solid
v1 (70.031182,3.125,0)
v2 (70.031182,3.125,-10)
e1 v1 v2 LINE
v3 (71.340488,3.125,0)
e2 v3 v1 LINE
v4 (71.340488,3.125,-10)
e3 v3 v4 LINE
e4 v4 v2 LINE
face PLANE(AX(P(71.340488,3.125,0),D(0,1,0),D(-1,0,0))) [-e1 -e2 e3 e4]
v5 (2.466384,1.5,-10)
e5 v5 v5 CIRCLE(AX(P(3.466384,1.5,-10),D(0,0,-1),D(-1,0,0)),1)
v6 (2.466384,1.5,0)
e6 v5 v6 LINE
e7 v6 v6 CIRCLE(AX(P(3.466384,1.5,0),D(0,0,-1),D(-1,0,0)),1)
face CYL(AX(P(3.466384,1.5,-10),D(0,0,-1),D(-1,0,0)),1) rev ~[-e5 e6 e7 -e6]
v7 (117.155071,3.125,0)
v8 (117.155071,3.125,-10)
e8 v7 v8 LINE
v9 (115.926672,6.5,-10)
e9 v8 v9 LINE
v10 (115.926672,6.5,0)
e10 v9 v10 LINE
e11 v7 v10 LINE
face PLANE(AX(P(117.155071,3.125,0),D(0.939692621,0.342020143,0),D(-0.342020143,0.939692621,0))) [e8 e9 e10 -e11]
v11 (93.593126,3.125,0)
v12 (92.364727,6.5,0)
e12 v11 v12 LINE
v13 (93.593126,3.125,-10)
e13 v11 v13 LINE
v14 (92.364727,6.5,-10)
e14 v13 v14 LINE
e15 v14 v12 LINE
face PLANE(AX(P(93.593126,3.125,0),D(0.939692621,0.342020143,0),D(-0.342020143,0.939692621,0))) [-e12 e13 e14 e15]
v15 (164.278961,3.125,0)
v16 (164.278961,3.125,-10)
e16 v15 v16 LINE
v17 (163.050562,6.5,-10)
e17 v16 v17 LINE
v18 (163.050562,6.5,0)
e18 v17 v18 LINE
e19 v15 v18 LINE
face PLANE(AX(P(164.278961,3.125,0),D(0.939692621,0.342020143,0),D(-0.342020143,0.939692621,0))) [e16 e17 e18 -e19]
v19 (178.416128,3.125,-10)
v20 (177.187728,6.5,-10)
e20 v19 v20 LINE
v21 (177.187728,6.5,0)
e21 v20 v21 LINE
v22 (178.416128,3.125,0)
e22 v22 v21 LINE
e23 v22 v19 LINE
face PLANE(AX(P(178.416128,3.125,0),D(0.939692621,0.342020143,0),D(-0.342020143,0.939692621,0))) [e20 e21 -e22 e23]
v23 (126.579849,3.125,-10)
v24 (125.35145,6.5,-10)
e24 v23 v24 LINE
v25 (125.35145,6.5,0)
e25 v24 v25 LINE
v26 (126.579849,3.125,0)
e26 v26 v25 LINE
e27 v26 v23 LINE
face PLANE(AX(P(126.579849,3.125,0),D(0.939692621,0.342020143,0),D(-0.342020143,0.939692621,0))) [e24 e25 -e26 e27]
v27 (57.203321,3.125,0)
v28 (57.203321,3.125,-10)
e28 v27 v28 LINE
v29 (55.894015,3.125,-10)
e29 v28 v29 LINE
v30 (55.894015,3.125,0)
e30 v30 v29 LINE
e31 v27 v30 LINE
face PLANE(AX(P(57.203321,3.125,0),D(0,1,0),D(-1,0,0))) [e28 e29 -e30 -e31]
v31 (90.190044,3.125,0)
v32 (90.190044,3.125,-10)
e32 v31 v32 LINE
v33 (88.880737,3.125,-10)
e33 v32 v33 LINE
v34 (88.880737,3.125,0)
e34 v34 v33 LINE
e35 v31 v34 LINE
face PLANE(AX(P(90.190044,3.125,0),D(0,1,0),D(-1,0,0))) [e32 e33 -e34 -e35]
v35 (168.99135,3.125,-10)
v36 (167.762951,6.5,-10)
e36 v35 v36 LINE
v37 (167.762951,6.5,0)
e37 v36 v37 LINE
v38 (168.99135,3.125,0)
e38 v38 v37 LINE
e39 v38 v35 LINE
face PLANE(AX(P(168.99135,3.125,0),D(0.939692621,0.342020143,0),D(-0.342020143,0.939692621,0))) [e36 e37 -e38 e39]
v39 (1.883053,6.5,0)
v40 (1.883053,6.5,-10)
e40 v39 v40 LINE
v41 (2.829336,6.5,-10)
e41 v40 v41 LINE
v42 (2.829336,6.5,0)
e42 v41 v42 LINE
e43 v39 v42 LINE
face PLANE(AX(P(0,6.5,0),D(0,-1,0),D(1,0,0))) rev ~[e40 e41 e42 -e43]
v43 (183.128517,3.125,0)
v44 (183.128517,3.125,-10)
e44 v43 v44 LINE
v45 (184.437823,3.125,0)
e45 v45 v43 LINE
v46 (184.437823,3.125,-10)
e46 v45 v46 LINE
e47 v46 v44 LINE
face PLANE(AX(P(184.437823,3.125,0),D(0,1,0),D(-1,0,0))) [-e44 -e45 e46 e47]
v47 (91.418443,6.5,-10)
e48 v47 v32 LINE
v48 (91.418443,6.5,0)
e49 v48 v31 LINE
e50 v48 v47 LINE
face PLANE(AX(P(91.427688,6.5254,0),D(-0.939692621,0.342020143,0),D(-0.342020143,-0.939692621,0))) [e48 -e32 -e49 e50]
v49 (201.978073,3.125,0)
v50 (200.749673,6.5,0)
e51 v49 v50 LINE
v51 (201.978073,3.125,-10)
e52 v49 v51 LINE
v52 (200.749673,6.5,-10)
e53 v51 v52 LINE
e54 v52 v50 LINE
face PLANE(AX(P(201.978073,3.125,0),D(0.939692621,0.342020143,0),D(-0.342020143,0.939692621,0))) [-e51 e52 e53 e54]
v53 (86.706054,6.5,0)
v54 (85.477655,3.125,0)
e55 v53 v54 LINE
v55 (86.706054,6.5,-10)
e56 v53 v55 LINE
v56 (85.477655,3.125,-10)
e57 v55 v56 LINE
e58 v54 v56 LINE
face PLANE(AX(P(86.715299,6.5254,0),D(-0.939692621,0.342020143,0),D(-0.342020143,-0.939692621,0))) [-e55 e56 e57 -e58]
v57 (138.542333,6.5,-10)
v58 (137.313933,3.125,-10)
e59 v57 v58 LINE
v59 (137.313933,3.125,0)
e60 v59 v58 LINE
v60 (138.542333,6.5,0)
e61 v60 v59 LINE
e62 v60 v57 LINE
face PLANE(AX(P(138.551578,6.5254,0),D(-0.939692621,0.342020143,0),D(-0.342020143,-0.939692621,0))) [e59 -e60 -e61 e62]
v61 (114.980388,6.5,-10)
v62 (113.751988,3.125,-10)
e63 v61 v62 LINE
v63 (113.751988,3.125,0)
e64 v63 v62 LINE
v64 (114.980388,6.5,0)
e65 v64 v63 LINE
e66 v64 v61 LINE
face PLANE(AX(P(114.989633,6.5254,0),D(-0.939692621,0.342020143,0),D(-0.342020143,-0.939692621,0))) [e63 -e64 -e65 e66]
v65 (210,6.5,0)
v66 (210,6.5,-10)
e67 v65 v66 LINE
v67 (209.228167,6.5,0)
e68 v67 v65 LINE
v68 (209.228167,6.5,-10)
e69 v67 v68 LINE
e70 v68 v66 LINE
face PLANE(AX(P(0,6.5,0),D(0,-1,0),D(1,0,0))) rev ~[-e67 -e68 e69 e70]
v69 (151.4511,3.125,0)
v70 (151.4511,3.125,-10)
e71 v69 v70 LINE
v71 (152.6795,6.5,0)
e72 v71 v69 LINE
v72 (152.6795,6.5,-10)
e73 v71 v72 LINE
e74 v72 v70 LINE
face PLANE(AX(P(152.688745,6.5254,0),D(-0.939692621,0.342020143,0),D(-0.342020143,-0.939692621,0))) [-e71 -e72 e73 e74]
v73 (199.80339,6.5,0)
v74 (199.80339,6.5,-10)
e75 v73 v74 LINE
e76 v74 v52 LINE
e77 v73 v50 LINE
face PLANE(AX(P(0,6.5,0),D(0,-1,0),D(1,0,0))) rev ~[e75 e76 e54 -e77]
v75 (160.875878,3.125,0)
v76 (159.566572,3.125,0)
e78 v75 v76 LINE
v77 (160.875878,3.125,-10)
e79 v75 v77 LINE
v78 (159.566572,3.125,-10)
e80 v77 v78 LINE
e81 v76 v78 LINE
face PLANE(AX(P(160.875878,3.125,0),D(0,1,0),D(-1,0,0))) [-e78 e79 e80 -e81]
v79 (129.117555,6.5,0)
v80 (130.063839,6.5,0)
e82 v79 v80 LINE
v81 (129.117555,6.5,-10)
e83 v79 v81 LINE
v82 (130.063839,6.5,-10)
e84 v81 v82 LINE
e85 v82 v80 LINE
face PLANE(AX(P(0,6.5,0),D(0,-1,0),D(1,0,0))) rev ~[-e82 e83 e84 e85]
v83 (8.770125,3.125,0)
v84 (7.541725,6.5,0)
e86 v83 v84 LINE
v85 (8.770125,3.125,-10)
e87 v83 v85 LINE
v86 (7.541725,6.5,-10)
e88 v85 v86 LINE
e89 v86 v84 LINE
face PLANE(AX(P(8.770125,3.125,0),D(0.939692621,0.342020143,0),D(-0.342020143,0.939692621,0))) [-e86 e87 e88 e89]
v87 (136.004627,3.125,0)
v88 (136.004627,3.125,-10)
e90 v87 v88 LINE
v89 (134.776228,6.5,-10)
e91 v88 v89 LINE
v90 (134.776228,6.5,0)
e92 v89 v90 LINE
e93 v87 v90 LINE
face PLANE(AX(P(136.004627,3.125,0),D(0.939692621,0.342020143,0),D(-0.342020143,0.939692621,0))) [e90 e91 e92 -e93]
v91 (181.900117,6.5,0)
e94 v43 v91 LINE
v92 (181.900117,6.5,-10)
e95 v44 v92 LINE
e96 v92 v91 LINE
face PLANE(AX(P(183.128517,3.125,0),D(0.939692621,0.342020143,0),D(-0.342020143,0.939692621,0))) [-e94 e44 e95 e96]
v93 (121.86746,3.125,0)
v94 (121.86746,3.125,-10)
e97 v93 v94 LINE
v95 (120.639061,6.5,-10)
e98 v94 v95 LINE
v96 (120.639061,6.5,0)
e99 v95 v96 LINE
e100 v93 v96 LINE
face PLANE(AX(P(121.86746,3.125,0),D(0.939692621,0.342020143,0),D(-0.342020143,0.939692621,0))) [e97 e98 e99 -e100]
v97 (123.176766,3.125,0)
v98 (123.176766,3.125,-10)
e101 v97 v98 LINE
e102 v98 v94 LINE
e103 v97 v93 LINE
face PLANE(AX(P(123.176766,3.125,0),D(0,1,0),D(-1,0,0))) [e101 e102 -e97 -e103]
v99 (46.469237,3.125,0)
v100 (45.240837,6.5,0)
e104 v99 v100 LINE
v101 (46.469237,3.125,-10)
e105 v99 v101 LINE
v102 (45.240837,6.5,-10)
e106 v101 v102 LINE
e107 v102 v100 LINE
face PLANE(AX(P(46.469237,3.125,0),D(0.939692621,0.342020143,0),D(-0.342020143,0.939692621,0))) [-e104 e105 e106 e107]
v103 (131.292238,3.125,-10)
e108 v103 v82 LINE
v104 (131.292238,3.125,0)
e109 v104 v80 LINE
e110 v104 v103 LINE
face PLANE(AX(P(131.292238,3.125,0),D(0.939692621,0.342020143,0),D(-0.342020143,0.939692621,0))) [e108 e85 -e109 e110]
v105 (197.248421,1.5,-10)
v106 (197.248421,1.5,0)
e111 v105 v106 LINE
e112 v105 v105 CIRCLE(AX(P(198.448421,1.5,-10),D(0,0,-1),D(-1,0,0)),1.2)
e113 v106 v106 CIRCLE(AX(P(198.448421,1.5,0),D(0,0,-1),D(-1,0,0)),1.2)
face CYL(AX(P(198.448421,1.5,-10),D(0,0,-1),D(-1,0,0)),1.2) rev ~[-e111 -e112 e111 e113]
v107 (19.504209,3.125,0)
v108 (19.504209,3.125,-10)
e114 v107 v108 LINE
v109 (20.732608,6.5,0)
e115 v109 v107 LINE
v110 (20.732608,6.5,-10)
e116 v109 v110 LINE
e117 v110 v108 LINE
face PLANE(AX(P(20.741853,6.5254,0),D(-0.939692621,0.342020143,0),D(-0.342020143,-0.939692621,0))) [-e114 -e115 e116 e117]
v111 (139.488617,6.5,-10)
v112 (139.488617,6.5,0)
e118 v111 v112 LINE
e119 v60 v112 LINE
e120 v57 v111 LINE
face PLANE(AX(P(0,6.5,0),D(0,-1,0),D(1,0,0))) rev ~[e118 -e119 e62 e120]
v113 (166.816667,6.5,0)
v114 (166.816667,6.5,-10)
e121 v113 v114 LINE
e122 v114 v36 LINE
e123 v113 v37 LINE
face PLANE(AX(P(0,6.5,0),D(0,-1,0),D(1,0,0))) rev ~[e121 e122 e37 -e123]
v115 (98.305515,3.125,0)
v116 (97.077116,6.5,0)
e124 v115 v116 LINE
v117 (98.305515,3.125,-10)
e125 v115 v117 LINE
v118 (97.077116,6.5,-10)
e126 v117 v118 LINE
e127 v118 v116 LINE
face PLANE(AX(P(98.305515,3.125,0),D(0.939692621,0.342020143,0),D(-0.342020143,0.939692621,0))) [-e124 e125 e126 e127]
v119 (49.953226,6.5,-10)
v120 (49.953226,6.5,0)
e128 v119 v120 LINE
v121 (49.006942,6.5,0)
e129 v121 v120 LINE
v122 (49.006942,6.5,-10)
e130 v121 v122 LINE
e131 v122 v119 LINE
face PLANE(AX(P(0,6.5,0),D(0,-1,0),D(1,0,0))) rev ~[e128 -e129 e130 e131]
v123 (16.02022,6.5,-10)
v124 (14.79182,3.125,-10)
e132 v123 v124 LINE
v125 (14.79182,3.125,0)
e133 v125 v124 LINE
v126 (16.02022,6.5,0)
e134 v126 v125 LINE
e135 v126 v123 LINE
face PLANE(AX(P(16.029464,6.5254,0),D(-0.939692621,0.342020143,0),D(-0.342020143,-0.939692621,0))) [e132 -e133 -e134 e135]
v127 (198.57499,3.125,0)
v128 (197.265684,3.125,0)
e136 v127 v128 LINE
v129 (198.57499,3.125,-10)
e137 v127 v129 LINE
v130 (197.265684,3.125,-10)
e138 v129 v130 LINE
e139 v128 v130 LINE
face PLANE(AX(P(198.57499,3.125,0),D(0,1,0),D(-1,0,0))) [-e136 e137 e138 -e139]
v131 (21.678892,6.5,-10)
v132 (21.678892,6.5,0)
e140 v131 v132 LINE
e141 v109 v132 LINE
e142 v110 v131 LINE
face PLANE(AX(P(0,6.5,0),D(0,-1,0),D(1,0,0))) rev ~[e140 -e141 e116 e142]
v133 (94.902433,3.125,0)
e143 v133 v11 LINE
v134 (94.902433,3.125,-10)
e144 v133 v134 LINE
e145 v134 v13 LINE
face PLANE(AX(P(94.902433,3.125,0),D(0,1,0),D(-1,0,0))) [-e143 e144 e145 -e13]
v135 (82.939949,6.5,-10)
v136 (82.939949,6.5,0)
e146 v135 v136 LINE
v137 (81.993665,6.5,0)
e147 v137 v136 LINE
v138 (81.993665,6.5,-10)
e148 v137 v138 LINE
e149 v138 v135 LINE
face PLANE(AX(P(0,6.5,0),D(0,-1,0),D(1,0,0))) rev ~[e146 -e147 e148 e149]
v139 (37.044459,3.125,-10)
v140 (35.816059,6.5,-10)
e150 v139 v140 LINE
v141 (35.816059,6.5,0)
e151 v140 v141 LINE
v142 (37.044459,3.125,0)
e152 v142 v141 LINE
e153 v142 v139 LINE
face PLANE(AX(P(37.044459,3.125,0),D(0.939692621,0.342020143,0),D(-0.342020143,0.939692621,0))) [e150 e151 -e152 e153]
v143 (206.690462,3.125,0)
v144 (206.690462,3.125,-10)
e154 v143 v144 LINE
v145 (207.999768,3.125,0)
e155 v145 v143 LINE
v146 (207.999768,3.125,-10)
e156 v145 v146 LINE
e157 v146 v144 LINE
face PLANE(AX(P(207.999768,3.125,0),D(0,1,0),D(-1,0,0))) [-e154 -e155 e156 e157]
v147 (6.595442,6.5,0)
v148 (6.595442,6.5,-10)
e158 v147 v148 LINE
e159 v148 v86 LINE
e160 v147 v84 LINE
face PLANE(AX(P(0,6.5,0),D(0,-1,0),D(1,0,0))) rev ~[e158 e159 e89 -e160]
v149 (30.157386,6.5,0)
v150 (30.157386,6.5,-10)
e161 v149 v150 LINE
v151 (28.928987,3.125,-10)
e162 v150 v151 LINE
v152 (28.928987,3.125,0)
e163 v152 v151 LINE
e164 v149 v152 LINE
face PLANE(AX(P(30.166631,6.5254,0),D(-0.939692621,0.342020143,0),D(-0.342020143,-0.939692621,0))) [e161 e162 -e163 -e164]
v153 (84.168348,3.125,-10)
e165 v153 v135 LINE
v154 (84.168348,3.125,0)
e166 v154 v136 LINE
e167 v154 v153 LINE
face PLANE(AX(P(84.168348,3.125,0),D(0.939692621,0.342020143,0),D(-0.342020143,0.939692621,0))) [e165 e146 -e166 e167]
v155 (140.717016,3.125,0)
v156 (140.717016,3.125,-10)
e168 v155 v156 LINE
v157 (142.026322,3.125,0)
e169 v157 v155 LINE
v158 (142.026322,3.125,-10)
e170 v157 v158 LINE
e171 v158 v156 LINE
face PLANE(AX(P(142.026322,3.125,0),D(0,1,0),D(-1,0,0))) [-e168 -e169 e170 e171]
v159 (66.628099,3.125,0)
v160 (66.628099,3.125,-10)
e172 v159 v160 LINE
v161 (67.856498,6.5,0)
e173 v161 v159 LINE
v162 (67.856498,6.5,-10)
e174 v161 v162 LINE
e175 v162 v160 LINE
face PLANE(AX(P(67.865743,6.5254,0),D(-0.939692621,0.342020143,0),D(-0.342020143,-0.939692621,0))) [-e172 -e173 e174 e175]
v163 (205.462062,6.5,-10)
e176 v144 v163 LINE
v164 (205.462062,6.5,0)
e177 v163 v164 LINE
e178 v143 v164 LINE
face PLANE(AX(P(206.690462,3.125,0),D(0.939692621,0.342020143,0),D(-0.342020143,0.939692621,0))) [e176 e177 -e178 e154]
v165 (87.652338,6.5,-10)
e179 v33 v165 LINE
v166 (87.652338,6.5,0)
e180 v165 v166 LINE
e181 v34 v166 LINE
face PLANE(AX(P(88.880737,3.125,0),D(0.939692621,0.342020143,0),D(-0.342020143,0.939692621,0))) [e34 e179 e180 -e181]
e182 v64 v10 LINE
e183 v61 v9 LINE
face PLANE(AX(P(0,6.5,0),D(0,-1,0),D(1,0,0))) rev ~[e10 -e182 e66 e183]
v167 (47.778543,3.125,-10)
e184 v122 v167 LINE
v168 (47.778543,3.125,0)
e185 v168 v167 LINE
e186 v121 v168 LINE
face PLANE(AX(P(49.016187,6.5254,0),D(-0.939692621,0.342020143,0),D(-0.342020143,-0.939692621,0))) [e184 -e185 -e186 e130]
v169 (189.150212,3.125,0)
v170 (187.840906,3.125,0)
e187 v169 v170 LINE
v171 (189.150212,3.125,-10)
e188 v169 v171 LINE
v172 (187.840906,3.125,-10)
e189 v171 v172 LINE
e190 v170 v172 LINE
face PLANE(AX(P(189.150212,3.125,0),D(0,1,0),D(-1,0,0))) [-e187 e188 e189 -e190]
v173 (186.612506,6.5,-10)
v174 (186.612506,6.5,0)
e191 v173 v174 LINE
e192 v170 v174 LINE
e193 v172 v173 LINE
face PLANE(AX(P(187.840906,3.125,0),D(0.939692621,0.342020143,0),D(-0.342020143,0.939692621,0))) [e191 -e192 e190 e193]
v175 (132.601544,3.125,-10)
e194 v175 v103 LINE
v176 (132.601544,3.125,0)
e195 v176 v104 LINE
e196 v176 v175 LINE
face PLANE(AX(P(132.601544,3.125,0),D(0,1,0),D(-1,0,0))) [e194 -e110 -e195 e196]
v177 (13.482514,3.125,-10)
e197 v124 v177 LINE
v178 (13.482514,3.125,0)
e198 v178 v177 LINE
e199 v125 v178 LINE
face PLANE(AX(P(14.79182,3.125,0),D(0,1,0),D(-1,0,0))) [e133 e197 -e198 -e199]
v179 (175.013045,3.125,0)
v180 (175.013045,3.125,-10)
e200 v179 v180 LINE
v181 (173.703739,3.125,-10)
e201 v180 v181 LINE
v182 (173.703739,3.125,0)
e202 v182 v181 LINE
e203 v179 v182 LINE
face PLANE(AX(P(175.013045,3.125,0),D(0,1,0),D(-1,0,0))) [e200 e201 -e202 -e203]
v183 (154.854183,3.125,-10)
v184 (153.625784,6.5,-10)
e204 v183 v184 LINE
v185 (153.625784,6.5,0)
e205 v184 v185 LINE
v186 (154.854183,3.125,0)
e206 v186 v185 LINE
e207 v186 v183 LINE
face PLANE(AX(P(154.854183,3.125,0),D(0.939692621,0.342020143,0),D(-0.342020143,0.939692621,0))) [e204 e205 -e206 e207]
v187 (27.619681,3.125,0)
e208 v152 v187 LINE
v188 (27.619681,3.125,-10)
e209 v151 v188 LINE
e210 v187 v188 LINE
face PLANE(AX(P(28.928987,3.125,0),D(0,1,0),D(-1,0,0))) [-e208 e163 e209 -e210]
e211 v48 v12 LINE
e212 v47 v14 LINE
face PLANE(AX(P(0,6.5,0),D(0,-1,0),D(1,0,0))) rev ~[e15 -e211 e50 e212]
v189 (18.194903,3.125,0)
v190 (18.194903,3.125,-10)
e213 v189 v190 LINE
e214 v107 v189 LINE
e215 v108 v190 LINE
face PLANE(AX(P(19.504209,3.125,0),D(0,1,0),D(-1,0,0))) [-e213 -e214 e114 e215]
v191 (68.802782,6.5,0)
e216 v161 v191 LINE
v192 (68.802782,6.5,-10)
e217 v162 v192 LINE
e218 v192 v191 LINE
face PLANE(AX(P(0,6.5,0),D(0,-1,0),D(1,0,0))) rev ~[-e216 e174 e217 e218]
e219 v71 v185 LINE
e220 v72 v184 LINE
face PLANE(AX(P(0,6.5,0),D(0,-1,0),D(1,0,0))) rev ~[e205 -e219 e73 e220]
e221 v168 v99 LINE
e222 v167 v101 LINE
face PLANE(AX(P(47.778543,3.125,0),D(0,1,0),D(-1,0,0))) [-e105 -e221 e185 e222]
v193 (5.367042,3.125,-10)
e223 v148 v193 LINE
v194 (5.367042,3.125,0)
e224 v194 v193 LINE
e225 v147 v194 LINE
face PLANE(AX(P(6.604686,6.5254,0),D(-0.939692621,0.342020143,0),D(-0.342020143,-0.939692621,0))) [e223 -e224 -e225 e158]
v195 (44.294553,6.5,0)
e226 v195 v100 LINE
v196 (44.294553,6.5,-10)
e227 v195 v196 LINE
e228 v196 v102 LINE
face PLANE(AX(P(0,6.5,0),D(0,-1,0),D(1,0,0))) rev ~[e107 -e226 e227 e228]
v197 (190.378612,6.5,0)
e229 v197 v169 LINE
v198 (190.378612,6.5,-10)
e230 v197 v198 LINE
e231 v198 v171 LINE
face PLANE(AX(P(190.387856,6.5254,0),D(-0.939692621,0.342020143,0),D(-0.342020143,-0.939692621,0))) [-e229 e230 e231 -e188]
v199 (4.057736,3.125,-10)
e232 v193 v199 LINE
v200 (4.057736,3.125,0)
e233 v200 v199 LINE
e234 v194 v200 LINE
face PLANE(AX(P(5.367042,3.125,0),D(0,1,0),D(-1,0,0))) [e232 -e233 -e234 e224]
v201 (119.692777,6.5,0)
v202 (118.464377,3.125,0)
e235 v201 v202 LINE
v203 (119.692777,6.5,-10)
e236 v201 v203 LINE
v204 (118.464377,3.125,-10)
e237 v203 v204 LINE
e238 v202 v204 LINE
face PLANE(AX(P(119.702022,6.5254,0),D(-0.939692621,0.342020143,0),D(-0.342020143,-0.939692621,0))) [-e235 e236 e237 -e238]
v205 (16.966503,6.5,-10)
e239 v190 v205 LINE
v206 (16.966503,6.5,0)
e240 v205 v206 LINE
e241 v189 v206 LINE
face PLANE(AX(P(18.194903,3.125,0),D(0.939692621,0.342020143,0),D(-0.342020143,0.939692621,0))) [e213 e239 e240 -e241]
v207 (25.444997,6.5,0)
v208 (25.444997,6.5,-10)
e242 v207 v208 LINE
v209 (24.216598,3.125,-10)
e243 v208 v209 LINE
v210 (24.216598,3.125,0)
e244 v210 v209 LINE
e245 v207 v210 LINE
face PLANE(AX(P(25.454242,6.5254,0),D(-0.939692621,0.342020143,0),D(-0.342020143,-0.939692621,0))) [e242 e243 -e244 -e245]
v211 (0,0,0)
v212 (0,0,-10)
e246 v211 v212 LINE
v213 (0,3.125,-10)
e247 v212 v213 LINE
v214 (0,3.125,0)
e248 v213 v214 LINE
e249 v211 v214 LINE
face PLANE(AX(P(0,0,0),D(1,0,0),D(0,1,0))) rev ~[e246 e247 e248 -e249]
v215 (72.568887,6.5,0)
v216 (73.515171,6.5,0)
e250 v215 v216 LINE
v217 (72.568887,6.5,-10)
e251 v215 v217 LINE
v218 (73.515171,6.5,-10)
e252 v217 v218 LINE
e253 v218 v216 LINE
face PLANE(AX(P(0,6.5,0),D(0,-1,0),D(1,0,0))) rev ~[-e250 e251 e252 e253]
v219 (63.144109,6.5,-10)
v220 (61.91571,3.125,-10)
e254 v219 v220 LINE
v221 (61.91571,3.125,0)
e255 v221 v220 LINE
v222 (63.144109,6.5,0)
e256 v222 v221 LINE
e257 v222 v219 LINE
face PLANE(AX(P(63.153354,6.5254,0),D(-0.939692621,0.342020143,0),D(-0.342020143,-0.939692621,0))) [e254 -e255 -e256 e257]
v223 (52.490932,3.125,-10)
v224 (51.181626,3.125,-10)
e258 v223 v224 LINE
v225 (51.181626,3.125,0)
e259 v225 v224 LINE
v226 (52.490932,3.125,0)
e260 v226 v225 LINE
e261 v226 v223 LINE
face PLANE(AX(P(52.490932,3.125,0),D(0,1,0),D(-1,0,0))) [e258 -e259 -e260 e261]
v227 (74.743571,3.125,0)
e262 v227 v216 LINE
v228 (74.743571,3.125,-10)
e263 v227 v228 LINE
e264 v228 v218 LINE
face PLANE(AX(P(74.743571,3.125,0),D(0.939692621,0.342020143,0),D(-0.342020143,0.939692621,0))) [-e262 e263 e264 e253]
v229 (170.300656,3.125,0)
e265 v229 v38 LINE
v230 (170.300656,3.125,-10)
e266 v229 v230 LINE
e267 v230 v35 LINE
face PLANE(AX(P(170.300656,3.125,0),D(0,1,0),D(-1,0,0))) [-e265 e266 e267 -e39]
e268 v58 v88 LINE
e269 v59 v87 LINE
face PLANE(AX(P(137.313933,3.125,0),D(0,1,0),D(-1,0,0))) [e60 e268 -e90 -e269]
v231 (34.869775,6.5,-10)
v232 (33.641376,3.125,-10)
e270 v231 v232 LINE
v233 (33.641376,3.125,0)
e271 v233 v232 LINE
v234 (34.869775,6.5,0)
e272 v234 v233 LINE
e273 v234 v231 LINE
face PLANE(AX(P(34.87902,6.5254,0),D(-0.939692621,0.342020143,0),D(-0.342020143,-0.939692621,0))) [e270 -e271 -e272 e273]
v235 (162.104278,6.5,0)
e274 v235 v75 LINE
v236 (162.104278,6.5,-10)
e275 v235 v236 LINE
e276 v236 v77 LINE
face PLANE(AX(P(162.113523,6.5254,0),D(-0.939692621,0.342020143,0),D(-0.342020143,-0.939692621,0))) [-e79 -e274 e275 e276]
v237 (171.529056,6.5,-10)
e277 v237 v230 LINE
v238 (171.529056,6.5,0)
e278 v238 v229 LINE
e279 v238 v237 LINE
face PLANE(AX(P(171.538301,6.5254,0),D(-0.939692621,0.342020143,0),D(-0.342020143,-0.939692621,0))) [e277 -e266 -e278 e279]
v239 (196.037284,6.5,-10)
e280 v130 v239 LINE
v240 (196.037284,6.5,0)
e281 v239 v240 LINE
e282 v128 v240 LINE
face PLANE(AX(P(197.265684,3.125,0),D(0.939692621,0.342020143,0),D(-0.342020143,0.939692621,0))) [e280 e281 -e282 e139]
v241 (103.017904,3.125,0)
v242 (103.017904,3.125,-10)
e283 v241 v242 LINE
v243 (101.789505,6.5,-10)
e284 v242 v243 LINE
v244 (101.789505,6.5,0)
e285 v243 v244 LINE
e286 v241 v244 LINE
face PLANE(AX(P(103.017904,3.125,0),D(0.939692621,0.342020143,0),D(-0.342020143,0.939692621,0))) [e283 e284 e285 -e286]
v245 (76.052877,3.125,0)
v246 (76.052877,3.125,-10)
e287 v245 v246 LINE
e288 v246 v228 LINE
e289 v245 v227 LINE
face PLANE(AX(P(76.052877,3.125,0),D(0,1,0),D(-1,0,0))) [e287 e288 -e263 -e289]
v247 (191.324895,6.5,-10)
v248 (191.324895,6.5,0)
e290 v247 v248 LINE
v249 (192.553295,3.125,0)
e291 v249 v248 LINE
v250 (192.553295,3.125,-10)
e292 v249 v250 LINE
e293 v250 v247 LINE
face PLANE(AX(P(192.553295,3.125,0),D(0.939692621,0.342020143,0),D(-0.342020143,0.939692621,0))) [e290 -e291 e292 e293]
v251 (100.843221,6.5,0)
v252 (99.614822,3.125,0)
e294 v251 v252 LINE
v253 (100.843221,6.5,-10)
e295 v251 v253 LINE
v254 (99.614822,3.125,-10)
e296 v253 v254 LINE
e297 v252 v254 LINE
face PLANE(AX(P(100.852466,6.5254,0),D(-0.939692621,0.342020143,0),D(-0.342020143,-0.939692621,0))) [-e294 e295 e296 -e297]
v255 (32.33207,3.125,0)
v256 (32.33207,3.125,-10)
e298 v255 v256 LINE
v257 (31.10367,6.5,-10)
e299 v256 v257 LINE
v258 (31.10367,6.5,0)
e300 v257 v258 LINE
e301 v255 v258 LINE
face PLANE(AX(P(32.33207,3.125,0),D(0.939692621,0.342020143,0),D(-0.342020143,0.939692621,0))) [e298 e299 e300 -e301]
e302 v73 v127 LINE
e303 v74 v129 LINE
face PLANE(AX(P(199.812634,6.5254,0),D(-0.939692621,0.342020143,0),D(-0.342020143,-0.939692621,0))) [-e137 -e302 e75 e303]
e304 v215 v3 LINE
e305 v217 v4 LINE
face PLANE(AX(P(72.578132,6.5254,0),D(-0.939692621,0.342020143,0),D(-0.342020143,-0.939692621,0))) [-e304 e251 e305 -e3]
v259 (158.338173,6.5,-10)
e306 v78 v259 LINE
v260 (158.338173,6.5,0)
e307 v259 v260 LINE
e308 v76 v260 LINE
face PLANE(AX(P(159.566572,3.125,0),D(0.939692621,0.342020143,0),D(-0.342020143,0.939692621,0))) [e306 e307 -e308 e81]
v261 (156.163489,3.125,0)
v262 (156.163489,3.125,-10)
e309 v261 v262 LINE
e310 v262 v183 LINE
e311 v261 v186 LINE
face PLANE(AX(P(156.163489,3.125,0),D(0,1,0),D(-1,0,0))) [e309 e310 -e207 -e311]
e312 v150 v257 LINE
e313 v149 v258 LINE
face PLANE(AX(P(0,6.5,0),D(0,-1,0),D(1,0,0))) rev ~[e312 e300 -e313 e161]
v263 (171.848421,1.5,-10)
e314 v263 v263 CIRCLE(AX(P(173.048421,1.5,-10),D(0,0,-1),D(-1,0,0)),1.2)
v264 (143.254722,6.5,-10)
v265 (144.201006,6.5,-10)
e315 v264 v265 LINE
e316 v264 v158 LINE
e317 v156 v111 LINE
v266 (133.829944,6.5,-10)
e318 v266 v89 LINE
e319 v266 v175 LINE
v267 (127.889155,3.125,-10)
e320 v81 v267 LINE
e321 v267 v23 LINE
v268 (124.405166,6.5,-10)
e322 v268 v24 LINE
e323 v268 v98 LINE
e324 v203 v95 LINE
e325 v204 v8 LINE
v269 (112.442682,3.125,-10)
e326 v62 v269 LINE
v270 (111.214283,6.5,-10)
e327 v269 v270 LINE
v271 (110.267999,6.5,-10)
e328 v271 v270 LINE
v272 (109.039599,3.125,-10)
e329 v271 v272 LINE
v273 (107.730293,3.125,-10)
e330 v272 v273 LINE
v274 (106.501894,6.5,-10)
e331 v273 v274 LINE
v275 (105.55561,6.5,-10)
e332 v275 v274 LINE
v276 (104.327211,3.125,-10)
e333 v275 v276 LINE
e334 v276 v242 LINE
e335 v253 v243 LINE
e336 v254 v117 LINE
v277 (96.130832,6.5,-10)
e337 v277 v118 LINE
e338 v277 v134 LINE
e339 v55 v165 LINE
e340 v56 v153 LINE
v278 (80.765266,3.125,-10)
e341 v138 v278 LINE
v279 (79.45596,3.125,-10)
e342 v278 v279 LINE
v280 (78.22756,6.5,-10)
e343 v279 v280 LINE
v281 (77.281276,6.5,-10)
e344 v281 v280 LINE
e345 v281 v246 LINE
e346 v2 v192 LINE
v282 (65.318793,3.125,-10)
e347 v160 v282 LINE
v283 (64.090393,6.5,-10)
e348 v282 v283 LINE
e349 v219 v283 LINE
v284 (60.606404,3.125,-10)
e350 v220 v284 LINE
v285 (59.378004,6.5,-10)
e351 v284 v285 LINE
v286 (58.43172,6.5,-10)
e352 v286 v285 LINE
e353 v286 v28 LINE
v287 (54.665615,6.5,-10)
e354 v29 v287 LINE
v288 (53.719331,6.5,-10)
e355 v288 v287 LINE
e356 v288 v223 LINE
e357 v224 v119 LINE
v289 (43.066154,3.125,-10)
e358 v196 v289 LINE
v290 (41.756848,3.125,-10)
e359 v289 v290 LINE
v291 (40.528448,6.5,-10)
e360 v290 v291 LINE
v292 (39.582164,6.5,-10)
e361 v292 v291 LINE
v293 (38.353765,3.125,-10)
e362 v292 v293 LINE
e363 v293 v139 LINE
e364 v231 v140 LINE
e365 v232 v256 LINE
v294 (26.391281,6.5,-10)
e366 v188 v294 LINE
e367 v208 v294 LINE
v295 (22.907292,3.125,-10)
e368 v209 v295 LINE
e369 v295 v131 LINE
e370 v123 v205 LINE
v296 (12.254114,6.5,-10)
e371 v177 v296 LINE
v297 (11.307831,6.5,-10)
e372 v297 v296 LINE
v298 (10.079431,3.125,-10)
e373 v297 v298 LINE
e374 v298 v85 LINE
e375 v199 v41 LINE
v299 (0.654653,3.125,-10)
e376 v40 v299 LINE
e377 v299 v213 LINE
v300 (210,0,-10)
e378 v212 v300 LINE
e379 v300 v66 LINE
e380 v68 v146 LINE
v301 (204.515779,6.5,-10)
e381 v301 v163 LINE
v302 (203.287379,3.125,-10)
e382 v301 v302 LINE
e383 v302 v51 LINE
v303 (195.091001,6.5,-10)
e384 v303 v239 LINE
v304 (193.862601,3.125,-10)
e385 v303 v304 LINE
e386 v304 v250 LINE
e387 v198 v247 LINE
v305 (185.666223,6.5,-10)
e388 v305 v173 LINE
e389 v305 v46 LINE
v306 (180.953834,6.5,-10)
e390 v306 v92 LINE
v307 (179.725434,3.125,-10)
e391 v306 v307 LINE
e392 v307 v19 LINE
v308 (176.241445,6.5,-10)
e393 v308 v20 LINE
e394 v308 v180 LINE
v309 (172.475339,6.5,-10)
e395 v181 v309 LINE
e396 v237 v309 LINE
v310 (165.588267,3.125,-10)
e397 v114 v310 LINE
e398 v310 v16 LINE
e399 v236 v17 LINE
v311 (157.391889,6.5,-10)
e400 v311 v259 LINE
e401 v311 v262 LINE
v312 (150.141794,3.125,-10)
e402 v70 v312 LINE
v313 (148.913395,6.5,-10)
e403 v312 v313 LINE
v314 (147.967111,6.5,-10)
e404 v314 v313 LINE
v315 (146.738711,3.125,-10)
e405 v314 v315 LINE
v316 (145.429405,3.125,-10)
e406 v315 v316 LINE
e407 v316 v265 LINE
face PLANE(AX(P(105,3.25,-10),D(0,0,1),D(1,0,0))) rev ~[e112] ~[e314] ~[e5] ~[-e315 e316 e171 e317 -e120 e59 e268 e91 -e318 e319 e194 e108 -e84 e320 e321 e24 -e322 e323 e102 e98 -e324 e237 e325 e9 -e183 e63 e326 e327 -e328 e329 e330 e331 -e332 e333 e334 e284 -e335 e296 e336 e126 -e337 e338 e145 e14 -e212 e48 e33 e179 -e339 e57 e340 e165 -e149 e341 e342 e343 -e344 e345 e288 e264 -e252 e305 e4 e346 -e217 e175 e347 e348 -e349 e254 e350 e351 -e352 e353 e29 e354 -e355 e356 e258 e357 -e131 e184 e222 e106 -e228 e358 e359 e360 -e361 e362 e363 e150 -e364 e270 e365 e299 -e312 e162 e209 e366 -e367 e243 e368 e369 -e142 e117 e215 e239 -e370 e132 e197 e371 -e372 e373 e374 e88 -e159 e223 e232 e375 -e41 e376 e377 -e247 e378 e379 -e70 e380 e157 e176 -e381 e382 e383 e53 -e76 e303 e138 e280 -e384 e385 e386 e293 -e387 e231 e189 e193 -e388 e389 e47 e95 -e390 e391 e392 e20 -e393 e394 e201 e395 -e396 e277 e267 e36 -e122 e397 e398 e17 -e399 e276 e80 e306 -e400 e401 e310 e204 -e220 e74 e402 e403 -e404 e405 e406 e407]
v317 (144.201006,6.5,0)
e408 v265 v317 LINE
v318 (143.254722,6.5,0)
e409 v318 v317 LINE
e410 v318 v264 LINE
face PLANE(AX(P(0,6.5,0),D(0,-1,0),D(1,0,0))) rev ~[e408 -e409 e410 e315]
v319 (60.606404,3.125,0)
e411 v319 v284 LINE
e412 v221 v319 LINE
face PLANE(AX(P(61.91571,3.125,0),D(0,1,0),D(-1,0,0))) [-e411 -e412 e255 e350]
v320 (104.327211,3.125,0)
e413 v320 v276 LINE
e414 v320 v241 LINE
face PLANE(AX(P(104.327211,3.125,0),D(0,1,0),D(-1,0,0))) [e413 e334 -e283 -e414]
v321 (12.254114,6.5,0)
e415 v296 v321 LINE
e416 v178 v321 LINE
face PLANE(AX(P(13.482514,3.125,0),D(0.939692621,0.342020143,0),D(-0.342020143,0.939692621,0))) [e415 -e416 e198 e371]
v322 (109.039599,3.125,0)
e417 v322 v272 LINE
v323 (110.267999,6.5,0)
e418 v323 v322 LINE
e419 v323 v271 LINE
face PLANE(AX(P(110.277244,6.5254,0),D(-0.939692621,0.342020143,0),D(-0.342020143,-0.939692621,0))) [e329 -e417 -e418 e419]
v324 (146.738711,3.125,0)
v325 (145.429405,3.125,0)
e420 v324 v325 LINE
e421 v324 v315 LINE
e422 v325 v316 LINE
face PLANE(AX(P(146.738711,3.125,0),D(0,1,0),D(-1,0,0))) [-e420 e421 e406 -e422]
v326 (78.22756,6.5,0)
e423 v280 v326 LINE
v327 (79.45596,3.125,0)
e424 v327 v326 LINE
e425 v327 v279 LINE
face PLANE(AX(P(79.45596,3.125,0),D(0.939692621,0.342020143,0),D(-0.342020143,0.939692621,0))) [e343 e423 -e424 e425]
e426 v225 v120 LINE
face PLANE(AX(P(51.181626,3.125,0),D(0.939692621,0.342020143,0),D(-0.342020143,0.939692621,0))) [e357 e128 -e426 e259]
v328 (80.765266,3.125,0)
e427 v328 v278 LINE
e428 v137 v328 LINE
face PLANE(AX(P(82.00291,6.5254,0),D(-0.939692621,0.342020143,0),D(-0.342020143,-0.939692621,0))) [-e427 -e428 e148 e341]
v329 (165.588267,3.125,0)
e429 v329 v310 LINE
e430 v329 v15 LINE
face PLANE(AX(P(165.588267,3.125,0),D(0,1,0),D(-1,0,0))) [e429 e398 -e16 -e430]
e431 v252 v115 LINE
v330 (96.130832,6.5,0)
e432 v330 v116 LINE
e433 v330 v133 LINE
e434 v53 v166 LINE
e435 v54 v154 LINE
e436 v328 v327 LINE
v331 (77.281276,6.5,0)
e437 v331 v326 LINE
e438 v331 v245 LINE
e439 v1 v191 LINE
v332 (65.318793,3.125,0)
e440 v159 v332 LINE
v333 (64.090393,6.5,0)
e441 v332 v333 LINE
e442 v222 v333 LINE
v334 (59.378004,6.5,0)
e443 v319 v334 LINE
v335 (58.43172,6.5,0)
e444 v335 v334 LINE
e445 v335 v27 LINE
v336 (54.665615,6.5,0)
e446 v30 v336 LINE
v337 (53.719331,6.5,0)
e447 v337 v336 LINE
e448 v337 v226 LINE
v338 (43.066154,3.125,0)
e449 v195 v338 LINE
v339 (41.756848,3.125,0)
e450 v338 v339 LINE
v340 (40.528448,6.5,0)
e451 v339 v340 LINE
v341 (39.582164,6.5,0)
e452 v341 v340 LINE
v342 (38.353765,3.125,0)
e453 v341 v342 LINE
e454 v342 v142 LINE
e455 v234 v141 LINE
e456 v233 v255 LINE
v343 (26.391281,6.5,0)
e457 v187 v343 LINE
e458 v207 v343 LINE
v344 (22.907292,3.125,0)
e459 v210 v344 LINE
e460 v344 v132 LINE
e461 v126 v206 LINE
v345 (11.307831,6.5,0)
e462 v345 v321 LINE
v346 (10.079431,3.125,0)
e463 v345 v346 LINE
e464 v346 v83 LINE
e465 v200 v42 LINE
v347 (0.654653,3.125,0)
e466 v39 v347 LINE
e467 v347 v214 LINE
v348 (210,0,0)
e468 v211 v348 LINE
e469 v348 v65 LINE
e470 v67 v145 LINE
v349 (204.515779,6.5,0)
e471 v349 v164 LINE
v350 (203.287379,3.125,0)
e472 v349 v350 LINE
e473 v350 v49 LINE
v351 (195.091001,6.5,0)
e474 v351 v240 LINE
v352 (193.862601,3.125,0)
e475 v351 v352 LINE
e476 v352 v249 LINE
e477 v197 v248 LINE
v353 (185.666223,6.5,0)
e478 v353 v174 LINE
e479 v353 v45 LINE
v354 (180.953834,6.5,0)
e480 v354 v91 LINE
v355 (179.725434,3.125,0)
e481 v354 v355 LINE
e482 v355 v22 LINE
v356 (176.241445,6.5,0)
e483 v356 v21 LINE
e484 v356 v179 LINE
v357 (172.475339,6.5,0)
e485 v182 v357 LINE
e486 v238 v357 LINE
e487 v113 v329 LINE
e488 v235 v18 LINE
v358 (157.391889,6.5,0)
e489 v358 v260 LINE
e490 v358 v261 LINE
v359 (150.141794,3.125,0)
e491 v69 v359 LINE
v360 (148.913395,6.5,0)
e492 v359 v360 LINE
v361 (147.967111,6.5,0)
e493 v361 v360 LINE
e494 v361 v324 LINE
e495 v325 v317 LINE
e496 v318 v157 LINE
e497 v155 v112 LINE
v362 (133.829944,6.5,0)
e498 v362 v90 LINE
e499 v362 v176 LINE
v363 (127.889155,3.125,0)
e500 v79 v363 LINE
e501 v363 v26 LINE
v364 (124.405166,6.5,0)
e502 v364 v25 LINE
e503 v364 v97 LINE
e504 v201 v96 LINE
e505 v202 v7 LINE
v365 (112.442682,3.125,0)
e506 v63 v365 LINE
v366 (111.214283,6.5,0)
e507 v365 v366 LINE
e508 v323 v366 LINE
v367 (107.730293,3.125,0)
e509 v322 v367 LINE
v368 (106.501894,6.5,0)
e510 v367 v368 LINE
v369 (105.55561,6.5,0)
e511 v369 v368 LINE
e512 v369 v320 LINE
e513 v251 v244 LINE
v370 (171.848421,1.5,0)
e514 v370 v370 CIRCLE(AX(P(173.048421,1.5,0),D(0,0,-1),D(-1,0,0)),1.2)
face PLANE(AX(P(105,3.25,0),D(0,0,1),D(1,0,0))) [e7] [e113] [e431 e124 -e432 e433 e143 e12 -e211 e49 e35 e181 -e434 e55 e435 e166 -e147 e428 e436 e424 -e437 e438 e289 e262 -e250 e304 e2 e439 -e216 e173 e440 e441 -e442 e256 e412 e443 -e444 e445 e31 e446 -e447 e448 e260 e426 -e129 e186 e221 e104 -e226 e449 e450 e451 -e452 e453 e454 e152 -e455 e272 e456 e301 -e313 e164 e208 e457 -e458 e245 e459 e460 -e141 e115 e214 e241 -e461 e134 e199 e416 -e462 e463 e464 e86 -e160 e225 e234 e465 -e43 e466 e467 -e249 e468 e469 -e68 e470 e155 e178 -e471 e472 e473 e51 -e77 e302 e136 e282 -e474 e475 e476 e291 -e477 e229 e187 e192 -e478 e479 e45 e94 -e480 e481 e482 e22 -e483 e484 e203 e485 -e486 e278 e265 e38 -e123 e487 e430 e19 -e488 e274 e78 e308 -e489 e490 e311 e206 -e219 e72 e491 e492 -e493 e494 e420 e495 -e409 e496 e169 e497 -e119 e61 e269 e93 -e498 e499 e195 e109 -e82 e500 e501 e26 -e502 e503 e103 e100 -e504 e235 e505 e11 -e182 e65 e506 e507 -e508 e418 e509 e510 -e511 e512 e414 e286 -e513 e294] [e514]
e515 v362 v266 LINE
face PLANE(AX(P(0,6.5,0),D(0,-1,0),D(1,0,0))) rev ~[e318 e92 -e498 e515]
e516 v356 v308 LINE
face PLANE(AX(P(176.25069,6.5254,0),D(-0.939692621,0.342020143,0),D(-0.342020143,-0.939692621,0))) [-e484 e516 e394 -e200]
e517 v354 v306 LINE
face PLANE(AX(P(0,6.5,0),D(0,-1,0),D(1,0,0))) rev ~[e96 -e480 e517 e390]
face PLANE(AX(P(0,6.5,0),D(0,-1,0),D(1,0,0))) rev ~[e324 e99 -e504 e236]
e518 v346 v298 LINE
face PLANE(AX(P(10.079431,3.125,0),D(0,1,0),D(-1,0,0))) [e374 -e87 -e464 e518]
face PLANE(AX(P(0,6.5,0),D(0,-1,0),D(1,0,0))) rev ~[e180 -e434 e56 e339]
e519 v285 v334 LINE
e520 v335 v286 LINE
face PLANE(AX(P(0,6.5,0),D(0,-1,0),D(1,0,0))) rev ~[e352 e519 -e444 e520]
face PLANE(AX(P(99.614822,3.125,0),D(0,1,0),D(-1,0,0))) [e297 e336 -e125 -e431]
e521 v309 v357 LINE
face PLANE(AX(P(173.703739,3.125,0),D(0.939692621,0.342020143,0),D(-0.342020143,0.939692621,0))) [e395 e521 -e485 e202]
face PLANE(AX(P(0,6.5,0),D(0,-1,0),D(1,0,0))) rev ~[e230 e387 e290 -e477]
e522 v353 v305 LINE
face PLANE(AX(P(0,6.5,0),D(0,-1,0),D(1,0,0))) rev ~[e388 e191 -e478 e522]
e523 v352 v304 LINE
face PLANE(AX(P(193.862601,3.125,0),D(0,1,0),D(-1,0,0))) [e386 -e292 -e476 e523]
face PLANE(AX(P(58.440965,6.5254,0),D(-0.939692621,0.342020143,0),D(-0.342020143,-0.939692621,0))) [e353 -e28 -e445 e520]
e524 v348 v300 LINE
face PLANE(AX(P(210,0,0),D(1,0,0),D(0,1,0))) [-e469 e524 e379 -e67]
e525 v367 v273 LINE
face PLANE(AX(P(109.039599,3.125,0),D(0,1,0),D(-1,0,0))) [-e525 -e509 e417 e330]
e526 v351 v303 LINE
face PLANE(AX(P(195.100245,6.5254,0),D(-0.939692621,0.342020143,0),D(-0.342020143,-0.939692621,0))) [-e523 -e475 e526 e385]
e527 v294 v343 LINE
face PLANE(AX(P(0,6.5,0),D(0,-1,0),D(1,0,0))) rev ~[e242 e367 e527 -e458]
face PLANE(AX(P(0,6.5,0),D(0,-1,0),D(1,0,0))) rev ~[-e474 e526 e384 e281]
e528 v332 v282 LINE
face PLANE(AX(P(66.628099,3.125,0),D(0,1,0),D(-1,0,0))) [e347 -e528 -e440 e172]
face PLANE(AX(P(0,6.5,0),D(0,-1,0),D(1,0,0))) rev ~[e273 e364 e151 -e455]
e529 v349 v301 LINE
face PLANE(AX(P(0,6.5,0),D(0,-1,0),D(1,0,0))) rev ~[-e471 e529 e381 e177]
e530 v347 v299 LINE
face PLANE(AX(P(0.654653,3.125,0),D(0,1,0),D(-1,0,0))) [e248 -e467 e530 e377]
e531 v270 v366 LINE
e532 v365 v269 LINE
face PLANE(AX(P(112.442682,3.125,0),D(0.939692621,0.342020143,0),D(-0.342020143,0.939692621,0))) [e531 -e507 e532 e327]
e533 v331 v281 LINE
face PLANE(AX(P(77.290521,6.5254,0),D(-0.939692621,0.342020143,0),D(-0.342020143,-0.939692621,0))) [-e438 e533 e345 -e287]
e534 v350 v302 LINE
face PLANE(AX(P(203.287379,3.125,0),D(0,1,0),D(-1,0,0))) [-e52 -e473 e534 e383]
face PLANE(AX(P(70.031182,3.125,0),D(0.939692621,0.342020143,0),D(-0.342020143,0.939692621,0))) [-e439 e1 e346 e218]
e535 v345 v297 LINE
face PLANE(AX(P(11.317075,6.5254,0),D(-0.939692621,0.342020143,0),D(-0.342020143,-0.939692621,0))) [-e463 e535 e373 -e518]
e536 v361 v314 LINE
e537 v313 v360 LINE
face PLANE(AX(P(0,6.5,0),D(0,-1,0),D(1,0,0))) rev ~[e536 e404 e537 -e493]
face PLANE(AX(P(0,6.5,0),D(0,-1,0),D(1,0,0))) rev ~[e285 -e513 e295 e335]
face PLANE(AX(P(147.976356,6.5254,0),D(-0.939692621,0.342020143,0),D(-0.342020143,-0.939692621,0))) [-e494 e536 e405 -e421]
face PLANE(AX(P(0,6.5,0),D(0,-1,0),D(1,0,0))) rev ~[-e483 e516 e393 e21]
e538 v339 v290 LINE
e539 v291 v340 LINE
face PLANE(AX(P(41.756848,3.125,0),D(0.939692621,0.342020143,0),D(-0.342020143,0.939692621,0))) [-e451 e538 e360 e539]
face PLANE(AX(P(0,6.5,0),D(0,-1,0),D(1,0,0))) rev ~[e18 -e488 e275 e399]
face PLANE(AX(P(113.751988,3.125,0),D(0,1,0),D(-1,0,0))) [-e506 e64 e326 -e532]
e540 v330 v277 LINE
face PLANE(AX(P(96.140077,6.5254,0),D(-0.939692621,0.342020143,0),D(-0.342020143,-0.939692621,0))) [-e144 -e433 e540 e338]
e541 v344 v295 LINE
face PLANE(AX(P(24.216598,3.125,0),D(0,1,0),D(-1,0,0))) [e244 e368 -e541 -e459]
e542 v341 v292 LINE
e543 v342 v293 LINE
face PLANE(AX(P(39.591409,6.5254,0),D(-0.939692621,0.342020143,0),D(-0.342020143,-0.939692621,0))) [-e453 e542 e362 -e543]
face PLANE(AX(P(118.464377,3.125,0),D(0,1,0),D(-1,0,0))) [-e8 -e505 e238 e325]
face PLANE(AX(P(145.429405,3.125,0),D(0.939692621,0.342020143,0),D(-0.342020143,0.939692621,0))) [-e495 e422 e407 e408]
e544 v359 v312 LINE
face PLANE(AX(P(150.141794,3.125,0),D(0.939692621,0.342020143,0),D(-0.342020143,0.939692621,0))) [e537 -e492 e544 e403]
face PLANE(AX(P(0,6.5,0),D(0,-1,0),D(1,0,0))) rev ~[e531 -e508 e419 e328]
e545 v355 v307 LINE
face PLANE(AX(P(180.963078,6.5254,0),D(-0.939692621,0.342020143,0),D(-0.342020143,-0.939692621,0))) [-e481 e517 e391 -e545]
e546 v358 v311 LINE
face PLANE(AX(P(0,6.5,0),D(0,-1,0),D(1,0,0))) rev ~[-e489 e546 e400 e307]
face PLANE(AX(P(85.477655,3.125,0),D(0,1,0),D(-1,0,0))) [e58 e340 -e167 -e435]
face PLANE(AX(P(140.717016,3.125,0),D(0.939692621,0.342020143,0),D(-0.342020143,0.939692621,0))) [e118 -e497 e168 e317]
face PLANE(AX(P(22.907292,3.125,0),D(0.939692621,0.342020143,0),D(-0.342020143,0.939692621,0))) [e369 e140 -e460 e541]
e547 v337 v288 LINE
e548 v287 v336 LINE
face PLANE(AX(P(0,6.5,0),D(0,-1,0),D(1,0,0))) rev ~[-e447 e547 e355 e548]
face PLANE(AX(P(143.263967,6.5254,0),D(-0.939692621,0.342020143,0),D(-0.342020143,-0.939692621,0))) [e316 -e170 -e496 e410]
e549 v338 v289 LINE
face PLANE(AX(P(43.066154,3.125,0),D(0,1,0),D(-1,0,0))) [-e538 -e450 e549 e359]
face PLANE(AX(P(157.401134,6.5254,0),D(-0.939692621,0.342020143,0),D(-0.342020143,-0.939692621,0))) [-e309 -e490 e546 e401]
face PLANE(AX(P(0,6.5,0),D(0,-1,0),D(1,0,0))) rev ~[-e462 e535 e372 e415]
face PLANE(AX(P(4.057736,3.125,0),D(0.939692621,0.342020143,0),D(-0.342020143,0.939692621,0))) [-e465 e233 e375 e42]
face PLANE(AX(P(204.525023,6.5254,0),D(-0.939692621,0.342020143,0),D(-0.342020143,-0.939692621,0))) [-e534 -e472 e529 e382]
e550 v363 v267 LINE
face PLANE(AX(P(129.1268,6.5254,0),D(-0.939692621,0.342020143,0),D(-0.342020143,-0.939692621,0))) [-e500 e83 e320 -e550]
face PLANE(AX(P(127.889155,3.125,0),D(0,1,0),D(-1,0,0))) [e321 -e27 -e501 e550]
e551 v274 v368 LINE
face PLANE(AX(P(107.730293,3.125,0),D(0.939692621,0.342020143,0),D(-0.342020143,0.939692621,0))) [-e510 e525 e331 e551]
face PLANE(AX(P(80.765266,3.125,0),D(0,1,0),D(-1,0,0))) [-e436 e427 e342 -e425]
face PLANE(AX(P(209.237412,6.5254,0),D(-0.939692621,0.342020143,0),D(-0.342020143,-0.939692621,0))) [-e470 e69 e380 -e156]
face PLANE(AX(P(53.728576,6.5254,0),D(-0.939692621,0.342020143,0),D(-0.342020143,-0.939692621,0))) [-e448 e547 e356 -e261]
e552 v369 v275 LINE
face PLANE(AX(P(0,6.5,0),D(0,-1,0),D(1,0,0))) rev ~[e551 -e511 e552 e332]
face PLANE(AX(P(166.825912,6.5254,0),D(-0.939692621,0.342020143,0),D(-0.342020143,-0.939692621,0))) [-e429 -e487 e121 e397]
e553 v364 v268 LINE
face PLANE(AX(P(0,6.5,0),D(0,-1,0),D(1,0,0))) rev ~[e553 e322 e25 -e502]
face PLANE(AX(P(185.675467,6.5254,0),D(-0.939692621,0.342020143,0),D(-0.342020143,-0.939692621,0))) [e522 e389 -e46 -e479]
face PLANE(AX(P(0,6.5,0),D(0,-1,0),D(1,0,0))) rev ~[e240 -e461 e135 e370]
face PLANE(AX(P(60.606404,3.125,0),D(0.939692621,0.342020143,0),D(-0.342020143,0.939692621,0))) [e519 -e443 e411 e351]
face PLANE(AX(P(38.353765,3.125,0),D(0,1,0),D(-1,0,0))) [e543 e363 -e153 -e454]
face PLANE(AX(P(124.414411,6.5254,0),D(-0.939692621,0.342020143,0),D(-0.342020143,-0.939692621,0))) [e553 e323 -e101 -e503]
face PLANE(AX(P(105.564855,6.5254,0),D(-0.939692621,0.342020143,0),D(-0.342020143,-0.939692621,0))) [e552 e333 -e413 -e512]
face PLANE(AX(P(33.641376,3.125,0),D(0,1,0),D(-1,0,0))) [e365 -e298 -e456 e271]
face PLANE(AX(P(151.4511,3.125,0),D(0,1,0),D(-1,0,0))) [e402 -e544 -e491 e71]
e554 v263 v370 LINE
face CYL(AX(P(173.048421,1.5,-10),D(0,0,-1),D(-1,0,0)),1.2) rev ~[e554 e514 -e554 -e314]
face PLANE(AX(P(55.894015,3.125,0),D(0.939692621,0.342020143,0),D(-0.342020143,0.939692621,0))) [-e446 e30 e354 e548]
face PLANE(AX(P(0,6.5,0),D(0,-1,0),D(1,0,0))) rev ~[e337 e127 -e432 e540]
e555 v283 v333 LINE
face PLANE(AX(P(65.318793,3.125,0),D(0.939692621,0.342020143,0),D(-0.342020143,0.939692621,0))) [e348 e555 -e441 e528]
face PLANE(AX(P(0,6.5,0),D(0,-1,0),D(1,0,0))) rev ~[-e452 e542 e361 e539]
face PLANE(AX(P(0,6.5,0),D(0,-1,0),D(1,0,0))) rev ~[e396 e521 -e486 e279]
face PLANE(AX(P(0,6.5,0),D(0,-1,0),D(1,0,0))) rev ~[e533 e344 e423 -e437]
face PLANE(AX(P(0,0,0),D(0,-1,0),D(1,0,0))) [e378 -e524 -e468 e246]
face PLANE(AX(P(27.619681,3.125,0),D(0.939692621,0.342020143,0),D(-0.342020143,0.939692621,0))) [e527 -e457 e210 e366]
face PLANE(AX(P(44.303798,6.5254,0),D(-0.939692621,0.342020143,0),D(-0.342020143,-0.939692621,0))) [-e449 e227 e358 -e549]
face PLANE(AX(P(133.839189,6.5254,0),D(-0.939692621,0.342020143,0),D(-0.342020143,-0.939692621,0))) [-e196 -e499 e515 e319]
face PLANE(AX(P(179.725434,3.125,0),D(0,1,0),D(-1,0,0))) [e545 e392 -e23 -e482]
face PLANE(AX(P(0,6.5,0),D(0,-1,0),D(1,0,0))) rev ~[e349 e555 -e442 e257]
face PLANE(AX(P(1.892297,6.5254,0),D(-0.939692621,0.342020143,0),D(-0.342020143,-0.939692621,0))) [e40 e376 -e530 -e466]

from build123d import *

# Parameters (mm, degrees)
BLANKSKE_W         = 210
BLANKSKE_H         = 6.5
BLANK_DEPTH        = 10
TOOTHCUTSIM_DEPTH  = 211.338417794
TEETHCUTS_COUNT    = 45
TEETHCUTS_PITCH    = 4.712388975
SKETCH1_R          = 1
SKETCH1_R_2        = 1.2
CUT_EXTRUDE1_DEPTH = 10


with BuildPart() as part:
    # BlankSke → Blank (new body)
    with BuildSketch(Plane.XY):
        with Locations((105, 3.25)):
            Rectangle(BLANKSKE_W, BLANKSKE_H)
    extrude(amount=-BLANK_DEPTH)

    # TooCutSkeSim → ToothCutSim (cut, through all)
    with BuildSketch(Plane.XY):
        Polygon((0.654653055, 3.125), (-0.654653055, 3.125), (-1.892297439, 6.5254), (1.892297439, 6.5254), align=None)
    toothcutsim = extrude(amount=-TOOTHCUTSIM_DEPTH, mode=Mode.SUBTRACT)

    # TeethCuts: ToothCutSim ×45
    with Locations(*[(i * TEETHCUTS_PITCH, 0, 0) for i in range(1, TEETHCUTS_COUNT)]):
        add(toothcutsim, mode=Mode.SUBTRACT)

    # Sketch1 → Cut-Extrude1 (cut)
    with BuildSketch(Plane(origin=(0, 0, -10), x_dir=(-1, 0, 0), z_dir=(0, 0, -1))):
        with Locations((-3.466384229, 1.5)):
            Circle(SKETCH1_R)
        with Locations((-198.448420537, 1.5)):
            Circle(SKETCH1_R_2)
        with Locations((-173.048420537, 1.5)):
            Circle(SKETCH1_R_2)
    extrude(amount=-CUT_EXTRUDE1_DEPTH, mode=Mode.SUBTRACT)


solid = part.part
